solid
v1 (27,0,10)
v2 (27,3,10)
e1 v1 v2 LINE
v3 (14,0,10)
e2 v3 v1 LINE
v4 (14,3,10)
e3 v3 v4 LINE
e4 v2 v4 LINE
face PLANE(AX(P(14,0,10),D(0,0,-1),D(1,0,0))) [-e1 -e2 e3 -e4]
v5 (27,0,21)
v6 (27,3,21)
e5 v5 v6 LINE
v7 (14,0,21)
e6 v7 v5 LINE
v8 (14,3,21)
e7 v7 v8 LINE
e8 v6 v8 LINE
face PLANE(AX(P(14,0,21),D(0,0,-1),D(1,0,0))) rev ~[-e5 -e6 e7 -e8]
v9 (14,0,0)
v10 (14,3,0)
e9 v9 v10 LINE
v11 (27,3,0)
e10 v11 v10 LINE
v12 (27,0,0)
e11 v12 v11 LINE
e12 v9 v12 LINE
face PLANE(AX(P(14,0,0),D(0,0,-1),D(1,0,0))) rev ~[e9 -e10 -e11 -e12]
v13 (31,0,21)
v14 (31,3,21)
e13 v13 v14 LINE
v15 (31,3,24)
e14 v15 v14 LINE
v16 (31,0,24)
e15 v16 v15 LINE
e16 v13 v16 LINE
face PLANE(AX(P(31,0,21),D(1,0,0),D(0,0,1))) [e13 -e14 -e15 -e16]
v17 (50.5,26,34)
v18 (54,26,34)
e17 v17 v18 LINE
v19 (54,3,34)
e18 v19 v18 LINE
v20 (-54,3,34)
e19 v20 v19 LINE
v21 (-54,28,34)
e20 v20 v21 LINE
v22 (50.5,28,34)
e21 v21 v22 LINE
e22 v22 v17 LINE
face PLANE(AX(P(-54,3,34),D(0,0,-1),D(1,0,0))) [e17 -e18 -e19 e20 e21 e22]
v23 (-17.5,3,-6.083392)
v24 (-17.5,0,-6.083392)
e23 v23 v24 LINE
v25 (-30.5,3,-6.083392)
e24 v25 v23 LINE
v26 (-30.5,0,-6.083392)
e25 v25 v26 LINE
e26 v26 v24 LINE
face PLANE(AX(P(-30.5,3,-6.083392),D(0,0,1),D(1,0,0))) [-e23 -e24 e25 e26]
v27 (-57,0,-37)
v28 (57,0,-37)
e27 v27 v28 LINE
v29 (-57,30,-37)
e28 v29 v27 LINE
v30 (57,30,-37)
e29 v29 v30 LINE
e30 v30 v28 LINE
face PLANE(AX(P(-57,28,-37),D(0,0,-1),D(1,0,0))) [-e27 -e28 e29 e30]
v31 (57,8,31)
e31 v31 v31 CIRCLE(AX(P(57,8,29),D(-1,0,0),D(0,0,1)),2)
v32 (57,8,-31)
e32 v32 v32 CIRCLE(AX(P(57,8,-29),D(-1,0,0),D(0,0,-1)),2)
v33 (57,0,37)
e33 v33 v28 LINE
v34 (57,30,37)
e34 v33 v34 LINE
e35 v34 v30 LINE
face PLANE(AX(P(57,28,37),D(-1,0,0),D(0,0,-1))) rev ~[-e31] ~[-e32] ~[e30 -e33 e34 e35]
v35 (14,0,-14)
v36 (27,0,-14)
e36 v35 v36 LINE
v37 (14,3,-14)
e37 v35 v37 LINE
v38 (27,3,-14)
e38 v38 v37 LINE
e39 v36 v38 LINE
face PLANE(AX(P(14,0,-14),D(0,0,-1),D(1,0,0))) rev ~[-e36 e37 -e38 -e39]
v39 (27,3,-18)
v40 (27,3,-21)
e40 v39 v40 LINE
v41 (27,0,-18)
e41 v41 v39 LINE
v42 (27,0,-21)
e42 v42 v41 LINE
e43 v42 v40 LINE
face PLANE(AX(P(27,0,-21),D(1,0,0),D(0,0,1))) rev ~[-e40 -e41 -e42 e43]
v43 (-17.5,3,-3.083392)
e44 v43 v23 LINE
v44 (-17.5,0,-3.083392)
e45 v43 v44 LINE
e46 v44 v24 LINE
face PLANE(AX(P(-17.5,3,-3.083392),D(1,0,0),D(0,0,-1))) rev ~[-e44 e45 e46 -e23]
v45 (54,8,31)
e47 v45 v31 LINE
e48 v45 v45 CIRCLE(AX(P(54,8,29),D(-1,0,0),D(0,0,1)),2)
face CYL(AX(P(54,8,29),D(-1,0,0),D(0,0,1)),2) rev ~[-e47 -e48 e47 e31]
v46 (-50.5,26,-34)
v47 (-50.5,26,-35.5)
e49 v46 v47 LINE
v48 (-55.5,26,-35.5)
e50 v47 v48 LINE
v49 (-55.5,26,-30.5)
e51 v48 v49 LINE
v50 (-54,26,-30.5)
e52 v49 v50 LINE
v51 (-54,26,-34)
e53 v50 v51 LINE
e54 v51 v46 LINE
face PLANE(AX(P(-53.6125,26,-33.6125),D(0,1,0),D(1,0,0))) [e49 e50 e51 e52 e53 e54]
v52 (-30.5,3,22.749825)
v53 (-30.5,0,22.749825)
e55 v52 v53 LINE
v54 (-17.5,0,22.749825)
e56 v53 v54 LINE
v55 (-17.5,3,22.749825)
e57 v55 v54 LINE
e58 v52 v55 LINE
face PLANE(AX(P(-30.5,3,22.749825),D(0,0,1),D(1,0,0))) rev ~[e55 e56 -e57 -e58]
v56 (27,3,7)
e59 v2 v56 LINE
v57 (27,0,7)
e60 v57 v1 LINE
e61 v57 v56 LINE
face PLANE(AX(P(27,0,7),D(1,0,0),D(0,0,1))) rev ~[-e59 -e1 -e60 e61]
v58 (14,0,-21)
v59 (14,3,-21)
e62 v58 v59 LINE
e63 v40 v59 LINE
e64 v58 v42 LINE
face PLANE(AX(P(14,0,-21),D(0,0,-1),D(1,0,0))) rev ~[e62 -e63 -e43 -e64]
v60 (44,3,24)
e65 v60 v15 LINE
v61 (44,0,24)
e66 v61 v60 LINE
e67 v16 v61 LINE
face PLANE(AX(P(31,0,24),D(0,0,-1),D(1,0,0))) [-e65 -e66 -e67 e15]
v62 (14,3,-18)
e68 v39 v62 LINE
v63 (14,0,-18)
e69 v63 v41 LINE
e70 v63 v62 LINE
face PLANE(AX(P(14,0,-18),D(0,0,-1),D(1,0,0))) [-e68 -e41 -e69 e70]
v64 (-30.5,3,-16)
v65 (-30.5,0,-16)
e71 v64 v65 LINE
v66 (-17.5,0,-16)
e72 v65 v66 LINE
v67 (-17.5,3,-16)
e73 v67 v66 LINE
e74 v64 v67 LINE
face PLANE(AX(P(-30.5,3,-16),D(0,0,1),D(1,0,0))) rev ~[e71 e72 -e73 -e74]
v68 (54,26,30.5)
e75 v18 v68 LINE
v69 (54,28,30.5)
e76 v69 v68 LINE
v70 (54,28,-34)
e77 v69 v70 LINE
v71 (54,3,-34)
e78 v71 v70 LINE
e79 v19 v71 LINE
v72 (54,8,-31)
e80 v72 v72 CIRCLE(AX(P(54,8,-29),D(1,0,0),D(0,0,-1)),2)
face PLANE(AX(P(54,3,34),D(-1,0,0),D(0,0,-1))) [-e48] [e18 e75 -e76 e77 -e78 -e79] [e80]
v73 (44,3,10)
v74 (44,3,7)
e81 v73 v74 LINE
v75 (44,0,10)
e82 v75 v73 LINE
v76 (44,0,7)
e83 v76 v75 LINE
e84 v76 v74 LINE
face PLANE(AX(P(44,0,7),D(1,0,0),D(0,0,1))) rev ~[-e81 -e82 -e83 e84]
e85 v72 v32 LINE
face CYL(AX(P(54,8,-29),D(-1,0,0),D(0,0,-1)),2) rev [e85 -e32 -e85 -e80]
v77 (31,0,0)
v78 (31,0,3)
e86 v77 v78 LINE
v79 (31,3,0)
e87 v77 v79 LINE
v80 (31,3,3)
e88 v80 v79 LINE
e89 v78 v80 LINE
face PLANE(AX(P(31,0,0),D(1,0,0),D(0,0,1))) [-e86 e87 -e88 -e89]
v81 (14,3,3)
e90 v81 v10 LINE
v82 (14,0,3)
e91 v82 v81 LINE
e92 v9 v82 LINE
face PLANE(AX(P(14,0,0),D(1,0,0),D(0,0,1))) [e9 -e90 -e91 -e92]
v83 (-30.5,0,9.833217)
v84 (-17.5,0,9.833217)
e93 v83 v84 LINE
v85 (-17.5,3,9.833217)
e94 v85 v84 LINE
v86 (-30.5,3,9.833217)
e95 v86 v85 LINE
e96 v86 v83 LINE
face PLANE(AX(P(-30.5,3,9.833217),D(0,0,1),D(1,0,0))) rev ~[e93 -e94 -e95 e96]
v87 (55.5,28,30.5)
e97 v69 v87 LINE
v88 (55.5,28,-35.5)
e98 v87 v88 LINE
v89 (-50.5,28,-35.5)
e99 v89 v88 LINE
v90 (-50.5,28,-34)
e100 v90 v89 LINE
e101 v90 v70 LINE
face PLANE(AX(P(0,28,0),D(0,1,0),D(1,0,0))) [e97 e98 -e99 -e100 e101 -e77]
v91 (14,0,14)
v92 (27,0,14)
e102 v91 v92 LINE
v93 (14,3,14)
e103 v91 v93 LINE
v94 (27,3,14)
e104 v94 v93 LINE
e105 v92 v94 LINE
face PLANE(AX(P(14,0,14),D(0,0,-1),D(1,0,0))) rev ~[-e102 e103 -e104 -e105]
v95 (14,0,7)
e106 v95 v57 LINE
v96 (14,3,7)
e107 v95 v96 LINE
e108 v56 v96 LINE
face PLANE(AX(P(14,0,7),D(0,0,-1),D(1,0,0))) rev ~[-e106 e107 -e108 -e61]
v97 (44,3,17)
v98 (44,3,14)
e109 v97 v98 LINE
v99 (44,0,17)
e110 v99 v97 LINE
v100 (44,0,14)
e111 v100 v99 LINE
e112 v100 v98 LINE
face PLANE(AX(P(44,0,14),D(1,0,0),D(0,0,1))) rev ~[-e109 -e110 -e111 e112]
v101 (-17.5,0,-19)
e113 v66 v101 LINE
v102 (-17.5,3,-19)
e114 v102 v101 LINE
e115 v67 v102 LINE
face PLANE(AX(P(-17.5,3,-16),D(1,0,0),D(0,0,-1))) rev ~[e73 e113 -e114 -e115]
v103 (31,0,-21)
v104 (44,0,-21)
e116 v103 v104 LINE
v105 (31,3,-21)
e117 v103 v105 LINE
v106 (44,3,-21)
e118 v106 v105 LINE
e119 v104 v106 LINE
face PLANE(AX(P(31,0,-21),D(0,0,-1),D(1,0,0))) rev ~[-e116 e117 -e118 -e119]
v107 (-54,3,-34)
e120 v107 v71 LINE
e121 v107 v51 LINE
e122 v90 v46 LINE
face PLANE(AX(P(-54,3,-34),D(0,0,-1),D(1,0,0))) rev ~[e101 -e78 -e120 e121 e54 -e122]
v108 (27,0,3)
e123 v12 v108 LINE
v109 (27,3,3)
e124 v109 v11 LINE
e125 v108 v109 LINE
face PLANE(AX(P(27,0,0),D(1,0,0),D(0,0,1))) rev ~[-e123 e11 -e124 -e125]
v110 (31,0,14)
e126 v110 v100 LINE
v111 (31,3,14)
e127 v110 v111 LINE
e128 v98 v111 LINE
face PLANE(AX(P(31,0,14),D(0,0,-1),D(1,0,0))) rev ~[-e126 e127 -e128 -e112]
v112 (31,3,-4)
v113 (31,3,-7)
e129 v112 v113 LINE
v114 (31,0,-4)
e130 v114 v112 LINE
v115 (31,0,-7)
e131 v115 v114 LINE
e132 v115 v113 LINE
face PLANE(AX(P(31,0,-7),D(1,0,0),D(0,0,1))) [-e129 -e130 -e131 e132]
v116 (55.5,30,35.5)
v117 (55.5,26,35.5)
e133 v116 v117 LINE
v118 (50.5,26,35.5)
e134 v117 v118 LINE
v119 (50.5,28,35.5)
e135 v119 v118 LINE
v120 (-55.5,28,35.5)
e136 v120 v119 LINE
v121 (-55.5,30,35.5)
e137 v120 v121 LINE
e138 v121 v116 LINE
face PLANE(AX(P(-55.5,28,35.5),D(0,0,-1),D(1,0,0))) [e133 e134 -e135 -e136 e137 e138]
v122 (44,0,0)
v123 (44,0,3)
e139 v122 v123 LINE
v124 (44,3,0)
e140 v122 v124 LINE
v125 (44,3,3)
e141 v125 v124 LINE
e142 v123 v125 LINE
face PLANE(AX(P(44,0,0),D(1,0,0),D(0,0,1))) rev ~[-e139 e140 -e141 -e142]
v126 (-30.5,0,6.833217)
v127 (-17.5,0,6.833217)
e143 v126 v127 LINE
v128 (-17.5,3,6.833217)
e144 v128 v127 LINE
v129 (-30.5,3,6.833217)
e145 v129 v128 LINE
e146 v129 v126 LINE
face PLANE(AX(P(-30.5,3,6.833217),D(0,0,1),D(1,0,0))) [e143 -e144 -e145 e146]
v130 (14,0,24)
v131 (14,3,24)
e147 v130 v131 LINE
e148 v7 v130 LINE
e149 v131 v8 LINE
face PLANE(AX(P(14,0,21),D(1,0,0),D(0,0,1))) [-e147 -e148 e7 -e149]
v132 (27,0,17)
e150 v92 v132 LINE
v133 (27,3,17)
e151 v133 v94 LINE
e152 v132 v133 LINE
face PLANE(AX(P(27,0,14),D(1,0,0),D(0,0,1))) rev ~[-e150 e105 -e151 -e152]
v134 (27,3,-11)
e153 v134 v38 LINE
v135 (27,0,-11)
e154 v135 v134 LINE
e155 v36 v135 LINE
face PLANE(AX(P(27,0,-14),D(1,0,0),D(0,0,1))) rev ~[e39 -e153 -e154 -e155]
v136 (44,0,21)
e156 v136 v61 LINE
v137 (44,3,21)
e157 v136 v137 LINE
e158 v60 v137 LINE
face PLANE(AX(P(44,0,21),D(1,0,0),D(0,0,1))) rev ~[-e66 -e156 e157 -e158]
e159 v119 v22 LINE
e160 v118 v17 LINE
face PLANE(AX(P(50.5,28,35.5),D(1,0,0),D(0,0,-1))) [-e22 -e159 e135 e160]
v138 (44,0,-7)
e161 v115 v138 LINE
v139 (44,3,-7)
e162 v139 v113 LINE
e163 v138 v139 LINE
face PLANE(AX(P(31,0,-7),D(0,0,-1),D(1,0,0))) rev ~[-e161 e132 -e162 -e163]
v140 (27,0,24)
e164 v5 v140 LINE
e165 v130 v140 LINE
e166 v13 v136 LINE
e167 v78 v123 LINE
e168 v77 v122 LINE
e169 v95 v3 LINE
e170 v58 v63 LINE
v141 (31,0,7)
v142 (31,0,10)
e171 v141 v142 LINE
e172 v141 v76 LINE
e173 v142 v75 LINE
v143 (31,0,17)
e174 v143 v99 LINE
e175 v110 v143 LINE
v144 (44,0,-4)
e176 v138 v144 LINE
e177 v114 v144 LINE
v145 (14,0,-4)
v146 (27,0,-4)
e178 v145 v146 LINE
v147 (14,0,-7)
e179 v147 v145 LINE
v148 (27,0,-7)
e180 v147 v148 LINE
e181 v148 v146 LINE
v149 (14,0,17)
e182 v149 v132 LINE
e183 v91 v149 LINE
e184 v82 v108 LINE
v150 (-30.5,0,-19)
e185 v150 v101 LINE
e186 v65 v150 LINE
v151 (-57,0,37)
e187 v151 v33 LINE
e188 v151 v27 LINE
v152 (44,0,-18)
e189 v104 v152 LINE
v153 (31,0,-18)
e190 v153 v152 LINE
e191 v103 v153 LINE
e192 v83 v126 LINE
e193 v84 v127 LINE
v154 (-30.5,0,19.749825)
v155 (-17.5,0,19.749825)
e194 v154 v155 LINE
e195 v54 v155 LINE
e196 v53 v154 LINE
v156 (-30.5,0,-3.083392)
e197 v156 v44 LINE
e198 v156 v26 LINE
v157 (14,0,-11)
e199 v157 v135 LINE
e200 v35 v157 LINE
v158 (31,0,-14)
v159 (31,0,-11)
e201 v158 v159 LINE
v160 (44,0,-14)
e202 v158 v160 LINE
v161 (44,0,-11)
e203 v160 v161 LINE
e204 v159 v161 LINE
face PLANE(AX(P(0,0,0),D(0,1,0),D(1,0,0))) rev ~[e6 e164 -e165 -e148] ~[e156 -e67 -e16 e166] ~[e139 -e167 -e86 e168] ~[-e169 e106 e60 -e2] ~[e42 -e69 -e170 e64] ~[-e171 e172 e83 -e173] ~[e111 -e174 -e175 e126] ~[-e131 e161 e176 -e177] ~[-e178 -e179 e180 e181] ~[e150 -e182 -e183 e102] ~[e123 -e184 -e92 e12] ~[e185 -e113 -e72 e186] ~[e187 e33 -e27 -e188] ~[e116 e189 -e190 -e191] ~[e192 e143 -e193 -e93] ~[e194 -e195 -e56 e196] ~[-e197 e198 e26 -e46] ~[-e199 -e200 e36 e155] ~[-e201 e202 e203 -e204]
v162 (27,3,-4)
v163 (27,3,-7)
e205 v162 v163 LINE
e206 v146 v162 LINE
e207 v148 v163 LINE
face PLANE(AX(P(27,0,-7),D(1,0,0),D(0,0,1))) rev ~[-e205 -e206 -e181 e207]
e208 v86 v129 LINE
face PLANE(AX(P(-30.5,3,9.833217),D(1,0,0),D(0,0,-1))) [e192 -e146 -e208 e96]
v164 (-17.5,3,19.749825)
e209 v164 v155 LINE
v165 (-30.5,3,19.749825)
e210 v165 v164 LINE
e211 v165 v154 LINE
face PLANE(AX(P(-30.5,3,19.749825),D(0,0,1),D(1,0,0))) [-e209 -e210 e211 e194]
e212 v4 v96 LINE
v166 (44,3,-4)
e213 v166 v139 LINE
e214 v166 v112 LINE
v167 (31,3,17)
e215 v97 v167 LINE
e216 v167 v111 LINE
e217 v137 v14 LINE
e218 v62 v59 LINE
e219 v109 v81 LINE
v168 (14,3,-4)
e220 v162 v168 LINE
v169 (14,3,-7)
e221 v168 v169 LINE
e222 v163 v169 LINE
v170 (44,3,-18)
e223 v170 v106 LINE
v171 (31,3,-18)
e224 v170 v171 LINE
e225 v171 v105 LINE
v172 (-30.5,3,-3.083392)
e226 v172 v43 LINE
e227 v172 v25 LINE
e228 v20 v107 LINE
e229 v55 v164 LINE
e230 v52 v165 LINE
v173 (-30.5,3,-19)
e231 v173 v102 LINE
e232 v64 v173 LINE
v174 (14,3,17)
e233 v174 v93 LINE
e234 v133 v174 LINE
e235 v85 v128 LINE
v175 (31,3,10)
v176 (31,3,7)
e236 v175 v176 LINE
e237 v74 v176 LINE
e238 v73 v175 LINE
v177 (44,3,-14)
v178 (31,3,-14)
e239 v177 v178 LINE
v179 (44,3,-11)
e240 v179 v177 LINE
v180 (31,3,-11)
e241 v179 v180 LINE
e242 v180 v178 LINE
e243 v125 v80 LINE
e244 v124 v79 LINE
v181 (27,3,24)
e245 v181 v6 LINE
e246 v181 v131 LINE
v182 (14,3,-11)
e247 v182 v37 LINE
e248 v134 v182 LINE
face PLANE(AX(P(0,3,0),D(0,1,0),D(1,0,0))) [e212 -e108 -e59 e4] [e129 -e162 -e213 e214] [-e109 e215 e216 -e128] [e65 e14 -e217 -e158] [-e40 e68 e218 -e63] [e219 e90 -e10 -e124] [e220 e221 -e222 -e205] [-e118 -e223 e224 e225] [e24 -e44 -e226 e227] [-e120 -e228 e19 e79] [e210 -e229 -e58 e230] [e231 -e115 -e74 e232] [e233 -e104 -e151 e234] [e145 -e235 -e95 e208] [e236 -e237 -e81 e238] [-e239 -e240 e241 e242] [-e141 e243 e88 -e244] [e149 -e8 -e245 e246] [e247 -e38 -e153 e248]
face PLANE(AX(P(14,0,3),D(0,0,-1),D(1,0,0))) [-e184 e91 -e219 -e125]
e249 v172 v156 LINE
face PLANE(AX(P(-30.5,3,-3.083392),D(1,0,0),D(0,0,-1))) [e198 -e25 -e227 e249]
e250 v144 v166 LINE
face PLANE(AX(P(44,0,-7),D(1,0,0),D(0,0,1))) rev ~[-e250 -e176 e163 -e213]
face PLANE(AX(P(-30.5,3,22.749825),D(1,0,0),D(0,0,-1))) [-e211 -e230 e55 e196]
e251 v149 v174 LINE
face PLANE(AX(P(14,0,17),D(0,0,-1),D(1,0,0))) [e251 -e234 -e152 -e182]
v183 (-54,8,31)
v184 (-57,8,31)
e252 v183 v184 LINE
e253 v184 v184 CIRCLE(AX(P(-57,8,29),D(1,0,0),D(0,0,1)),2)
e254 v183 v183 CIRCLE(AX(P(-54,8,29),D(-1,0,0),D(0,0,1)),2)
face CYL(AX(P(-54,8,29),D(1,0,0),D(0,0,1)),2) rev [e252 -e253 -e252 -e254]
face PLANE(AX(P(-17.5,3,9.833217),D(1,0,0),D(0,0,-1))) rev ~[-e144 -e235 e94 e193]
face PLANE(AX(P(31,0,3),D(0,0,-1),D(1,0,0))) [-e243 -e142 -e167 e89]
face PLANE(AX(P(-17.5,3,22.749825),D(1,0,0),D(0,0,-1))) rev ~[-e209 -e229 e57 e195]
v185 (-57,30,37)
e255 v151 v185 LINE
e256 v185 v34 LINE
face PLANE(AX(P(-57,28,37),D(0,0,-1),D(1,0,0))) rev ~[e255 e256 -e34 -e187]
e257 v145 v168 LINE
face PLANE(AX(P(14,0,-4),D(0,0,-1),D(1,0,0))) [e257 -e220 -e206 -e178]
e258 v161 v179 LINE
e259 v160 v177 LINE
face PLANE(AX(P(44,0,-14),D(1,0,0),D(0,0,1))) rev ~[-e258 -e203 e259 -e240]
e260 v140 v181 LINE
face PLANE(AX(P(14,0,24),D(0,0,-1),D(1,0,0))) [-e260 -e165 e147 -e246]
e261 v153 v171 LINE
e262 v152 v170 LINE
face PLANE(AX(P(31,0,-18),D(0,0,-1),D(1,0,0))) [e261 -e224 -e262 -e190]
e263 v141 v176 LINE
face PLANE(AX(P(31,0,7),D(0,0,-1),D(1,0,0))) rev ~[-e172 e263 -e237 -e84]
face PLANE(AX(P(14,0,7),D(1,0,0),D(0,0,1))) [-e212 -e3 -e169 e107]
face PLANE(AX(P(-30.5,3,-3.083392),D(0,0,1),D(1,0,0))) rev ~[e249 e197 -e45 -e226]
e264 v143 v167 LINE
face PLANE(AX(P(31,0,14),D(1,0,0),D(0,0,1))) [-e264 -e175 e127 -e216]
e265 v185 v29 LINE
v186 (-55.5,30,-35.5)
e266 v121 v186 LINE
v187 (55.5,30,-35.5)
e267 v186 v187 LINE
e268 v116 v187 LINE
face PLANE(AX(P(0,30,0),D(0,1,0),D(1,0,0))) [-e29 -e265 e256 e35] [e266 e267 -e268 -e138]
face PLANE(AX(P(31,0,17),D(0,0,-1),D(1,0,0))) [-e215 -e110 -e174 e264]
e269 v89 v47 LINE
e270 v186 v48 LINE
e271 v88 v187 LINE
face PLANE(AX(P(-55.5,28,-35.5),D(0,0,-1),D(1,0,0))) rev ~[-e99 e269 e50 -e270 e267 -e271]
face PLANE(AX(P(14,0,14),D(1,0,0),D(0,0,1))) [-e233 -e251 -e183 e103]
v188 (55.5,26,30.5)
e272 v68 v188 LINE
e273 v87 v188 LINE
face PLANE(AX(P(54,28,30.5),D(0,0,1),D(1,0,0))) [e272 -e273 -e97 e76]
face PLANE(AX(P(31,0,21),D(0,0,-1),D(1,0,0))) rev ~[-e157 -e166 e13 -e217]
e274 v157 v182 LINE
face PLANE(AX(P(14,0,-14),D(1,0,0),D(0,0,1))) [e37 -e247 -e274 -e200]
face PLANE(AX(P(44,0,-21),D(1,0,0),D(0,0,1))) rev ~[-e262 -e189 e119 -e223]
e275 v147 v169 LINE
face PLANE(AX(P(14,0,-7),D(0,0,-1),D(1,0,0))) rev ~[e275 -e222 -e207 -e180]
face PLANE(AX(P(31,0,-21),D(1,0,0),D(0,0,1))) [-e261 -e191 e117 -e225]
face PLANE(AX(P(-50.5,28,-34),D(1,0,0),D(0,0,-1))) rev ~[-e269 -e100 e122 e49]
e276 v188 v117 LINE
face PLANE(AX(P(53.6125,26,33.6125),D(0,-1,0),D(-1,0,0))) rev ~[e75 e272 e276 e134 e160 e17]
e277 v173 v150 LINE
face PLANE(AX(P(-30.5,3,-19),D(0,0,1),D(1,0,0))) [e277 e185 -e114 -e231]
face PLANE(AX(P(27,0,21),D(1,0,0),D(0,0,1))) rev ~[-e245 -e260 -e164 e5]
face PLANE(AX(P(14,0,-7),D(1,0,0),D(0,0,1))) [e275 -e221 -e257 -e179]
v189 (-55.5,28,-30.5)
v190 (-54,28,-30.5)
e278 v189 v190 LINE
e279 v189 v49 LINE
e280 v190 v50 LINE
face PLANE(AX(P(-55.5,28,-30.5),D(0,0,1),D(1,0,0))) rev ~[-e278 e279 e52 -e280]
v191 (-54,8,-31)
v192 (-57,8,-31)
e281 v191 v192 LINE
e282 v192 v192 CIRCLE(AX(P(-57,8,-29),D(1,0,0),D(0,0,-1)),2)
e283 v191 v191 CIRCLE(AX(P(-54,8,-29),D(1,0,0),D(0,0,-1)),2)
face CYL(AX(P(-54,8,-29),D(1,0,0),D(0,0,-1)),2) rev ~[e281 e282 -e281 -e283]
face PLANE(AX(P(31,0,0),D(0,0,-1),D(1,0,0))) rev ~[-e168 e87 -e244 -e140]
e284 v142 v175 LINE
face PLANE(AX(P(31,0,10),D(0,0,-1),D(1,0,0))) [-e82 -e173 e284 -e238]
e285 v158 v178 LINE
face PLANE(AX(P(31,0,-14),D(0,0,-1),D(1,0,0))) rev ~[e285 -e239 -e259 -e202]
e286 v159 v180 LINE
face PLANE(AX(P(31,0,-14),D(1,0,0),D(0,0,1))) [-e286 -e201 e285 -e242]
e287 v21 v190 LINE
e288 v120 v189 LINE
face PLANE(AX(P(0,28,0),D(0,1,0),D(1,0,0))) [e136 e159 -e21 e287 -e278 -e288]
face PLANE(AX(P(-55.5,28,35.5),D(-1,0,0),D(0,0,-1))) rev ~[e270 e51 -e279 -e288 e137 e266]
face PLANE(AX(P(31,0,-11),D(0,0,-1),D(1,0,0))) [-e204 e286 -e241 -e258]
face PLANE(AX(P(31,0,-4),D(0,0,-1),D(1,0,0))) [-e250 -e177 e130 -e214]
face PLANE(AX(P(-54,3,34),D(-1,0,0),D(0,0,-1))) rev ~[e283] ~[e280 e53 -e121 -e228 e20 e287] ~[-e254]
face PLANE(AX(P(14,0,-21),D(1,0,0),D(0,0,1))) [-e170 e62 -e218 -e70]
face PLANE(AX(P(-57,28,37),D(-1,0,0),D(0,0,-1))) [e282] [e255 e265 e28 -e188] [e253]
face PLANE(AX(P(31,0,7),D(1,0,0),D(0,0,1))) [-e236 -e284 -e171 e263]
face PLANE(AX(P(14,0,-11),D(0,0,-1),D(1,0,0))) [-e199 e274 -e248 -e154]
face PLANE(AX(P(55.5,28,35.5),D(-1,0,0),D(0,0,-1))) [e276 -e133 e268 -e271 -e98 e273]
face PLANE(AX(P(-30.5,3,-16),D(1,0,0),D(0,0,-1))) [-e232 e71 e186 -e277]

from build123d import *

# Parameters (mm, degrees)
SKETCH1_W                = 108
SKETCH1_H                = 68
BOSS_EXTRUDE1_DEPTH      = 3
SKETCH2_W                = 114
SKETCH2_H                = 74
SKETCH2_W_2              = 108
SKETCH2_H_2              = 68
BOSS_EXTRUDE2_DEPTH      = 25
BOSS_EXTRUDE2_DEPTH_BACK = 3
SKETCH4_W                = 114
SKETCH4_H                = 74
SKETCH4_W_2              = 111
SKETCH4_H_2              = 71
BOSS_EXTRUDE3_DEPTH      = 2
SKETCH5_R                = 2
CUT_EXTRUDE1_DEPTH       = 4
SKETCH6_W                = 13
SKETCH6_H                = 3
CUT_EXTRUDE2_DEPTH       = 31
MIRROR2_COPY_1_SKETCH_R  = 2
MIRROR2_COPY_1_DEPTH     = 4
SKETCH7_W                = 13
SKETCH7_H                = 3
CUT_EXTRUDE3_DEPTH       = 10
CUT_EXTRUDE4_DEPTH       = 2


with BuildPart() as part:
    # Sketch1 → Boss-Extrude1 (new body)
    with BuildSketch(Plane(origin=(0, 0, 0), x_dir=(1, 0, 0), z_dir=(0, 1, 0))):
        Rectangle(SKETCH1_W, SKETCH1_H)
    extrude(amount=BOSS_EXTRUDE1_DEPTH)

    # Sketch2 → Boss-Extrude2 (add, two sides)
    with BuildSketch(Plane(origin=(0, 3, 0), x_dir=(1, 0, 0), z_dir=(0, 1, 0))) as boss_extrude2_sk:
        Rectangle(SKETCH2_W, SKETCH2_H)
        Rectangle(SKETCH2_W_2, SKETCH2_H_2, mode=Mode.SUBTRACT)
    extrude(amount=BOSS_EXTRUDE2_DEPTH)
    extrude(boss_extrude2_sk.sketch, amount=-BOSS_EXTRUDE2_DEPTH_BACK)

    # Sketch4 → Boss-Extrude3 (add)
    with BuildSketch(Plane(origin=(0, 28, 0), x_dir=(1, 0, 0), z_dir=(0, 1, 0))):
        Rectangle(SKETCH4_W, SKETCH4_H)
        Rectangle(SKETCH4_W_2, SKETCH4_H_2, mode=Mode.SUBTRACT)
    extrude(amount=BOSS_EXTRUDE3_DEPTH)

    # Sketch5 → Cut-Extrude1 (cut, through all)
    with BuildSketch(Plane(origin=(-54, 0, 0), x_dir=(0, 0, -1), z_dir=(1, 0, 0))):
        with Locations((29, 8)):
            Circle(SKETCH5_R)
    cut_extrude1 = extrude(amount=-CUT_EXTRUDE1_DEPTH, mode=Mode.SUBTRACT)

    # Sketch6 → Cut-Extrude2 (cut, through all)
    with BuildSketch(Plane.XZ):
        with Locations((20.5, 22.5)):
            Rectangle(SKETCH6_W, SKETCH6_H)
        with Locations((37.5, 22.5)):
            Rectangle(SKETCH6_W, SKETCH6_H)
        with Locations((20.5, 15.5)):
            Rectangle(SKETCH6_W, SKETCH6_H)
        with Locations((37.5, 15.5)):
            Rectangle(SKETCH6_W, SKETCH6_H)
        with Locations((20.5, 8.5)):
            Rectangle(SKETCH6_W, SKETCH6_H)
        with Locations((37.5, 8.5)):
            Rectangle(SKETCH6_W, SKETCH6_H)
        with Locations((20.5, 1.5)):
            Rectangle(SKETCH6_W, SKETCH6_H)
        with Locations((37.5, 1.5)):
            Rectangle(SKETCH6_W, SKETCH6_H)
        with Locations((20.5, -5.5)):
            Rectangle(SKETCH6_W, SKETCH6_H)
        with Locations((37.5, -5.5)):
            Rectangle(SKETCH6_W, SKETCH6_H)
        with Locations((20.5, -12.5)):
            Rectangle(SKETCH6_W, SKETCH6_H)
        with Locations((37.5, -12.5)):
            Rectangle(SKETCH6_W, SKETCH6_H)
        with Locations((20.5, -19.5)):
            Rectangle(SKETCH6_W, SKETCH6_H)
        with Locations((37.5, -19.5)):
            Rectangle(SKETCH6_W, SKETCH6_H)
    extrude(amount=-CUT_EXTRUDE2_DEPTH, mode=Mode.SUBTRACT)

    # Mirror1: Cut-Extrude1 across plane
    add(cut_extrude1.mirror(Plane.XY), mode=Mode.SUBTRACT)

    # Mirror2: Cut-Extrude1 across plane
    add(cut_extrude1.mirror(Plane(origin=(0, 0, 0), x_dir=(0, 0, 1), z_dir=(1, 0, 0))), mode=Mode.SUBTRACT)

    # Mirror2 copy 1 sketch → Mirror2 copy 1 (cut, through all)
    with BuildSketch(Plane.ZY.offset(-54)):
        with Locations((29, 8)):
            Circle(MIRROR2_COPY_1_SKETCH_R)
    extrude(amount=-MIRROR2_COPY_1_DEPTH, mode=Mode.SUBTRACT)

    # Sketch7 → Cut-Extrude3 (cut)
    with BuildSketch(Plane(origin=(0, 3, 0), x_dir=(1, 0, 0), z_dir=(0, 1, 0))):
        with Locations((-24, 17.5)):
            Rectangle(SKETCH7_W, SKETCH7_H)
        with Locations((-24, 4.583391615)):
            Rectangle(SKETCH7_W, SKETCH7_H)
        with Locations((-24, -8.333216771)):
            Rectangle(SKETCH7_W, SKETCH7_H)
        with Locations((-24, -21.249825156)):
            Rectangle(SKETCH7_W, SKETCH7_H)
    extrude(amount=-CUT_EXTRUDE3_DEPTH, mode=Mode.SUBTRACT)

    # Sketch8 → Cut-Extrude4 (cut)
    with BuildSketch(Plane(origin=(0, 28, 0), x_dir=(1, 0, 0), z_dir=(0, 1, 0))):
        Polygon((-54, 34), (-50.5, 34), (-50.5, 35.5), (-55.5, 35.5), (-55.5, 30.5), (-54, 30.5), align=None)
        Polygon((54, -34), (54, -30.5), (55.5, -30.5), (55.5, -35.5), (50.5, -35.5), (50.5, -34), align=None)
    extrude(amount=-CUT_EXTRUDE4_DEPTH, mode=Mode.SUBTRACT)


solid = part.part
